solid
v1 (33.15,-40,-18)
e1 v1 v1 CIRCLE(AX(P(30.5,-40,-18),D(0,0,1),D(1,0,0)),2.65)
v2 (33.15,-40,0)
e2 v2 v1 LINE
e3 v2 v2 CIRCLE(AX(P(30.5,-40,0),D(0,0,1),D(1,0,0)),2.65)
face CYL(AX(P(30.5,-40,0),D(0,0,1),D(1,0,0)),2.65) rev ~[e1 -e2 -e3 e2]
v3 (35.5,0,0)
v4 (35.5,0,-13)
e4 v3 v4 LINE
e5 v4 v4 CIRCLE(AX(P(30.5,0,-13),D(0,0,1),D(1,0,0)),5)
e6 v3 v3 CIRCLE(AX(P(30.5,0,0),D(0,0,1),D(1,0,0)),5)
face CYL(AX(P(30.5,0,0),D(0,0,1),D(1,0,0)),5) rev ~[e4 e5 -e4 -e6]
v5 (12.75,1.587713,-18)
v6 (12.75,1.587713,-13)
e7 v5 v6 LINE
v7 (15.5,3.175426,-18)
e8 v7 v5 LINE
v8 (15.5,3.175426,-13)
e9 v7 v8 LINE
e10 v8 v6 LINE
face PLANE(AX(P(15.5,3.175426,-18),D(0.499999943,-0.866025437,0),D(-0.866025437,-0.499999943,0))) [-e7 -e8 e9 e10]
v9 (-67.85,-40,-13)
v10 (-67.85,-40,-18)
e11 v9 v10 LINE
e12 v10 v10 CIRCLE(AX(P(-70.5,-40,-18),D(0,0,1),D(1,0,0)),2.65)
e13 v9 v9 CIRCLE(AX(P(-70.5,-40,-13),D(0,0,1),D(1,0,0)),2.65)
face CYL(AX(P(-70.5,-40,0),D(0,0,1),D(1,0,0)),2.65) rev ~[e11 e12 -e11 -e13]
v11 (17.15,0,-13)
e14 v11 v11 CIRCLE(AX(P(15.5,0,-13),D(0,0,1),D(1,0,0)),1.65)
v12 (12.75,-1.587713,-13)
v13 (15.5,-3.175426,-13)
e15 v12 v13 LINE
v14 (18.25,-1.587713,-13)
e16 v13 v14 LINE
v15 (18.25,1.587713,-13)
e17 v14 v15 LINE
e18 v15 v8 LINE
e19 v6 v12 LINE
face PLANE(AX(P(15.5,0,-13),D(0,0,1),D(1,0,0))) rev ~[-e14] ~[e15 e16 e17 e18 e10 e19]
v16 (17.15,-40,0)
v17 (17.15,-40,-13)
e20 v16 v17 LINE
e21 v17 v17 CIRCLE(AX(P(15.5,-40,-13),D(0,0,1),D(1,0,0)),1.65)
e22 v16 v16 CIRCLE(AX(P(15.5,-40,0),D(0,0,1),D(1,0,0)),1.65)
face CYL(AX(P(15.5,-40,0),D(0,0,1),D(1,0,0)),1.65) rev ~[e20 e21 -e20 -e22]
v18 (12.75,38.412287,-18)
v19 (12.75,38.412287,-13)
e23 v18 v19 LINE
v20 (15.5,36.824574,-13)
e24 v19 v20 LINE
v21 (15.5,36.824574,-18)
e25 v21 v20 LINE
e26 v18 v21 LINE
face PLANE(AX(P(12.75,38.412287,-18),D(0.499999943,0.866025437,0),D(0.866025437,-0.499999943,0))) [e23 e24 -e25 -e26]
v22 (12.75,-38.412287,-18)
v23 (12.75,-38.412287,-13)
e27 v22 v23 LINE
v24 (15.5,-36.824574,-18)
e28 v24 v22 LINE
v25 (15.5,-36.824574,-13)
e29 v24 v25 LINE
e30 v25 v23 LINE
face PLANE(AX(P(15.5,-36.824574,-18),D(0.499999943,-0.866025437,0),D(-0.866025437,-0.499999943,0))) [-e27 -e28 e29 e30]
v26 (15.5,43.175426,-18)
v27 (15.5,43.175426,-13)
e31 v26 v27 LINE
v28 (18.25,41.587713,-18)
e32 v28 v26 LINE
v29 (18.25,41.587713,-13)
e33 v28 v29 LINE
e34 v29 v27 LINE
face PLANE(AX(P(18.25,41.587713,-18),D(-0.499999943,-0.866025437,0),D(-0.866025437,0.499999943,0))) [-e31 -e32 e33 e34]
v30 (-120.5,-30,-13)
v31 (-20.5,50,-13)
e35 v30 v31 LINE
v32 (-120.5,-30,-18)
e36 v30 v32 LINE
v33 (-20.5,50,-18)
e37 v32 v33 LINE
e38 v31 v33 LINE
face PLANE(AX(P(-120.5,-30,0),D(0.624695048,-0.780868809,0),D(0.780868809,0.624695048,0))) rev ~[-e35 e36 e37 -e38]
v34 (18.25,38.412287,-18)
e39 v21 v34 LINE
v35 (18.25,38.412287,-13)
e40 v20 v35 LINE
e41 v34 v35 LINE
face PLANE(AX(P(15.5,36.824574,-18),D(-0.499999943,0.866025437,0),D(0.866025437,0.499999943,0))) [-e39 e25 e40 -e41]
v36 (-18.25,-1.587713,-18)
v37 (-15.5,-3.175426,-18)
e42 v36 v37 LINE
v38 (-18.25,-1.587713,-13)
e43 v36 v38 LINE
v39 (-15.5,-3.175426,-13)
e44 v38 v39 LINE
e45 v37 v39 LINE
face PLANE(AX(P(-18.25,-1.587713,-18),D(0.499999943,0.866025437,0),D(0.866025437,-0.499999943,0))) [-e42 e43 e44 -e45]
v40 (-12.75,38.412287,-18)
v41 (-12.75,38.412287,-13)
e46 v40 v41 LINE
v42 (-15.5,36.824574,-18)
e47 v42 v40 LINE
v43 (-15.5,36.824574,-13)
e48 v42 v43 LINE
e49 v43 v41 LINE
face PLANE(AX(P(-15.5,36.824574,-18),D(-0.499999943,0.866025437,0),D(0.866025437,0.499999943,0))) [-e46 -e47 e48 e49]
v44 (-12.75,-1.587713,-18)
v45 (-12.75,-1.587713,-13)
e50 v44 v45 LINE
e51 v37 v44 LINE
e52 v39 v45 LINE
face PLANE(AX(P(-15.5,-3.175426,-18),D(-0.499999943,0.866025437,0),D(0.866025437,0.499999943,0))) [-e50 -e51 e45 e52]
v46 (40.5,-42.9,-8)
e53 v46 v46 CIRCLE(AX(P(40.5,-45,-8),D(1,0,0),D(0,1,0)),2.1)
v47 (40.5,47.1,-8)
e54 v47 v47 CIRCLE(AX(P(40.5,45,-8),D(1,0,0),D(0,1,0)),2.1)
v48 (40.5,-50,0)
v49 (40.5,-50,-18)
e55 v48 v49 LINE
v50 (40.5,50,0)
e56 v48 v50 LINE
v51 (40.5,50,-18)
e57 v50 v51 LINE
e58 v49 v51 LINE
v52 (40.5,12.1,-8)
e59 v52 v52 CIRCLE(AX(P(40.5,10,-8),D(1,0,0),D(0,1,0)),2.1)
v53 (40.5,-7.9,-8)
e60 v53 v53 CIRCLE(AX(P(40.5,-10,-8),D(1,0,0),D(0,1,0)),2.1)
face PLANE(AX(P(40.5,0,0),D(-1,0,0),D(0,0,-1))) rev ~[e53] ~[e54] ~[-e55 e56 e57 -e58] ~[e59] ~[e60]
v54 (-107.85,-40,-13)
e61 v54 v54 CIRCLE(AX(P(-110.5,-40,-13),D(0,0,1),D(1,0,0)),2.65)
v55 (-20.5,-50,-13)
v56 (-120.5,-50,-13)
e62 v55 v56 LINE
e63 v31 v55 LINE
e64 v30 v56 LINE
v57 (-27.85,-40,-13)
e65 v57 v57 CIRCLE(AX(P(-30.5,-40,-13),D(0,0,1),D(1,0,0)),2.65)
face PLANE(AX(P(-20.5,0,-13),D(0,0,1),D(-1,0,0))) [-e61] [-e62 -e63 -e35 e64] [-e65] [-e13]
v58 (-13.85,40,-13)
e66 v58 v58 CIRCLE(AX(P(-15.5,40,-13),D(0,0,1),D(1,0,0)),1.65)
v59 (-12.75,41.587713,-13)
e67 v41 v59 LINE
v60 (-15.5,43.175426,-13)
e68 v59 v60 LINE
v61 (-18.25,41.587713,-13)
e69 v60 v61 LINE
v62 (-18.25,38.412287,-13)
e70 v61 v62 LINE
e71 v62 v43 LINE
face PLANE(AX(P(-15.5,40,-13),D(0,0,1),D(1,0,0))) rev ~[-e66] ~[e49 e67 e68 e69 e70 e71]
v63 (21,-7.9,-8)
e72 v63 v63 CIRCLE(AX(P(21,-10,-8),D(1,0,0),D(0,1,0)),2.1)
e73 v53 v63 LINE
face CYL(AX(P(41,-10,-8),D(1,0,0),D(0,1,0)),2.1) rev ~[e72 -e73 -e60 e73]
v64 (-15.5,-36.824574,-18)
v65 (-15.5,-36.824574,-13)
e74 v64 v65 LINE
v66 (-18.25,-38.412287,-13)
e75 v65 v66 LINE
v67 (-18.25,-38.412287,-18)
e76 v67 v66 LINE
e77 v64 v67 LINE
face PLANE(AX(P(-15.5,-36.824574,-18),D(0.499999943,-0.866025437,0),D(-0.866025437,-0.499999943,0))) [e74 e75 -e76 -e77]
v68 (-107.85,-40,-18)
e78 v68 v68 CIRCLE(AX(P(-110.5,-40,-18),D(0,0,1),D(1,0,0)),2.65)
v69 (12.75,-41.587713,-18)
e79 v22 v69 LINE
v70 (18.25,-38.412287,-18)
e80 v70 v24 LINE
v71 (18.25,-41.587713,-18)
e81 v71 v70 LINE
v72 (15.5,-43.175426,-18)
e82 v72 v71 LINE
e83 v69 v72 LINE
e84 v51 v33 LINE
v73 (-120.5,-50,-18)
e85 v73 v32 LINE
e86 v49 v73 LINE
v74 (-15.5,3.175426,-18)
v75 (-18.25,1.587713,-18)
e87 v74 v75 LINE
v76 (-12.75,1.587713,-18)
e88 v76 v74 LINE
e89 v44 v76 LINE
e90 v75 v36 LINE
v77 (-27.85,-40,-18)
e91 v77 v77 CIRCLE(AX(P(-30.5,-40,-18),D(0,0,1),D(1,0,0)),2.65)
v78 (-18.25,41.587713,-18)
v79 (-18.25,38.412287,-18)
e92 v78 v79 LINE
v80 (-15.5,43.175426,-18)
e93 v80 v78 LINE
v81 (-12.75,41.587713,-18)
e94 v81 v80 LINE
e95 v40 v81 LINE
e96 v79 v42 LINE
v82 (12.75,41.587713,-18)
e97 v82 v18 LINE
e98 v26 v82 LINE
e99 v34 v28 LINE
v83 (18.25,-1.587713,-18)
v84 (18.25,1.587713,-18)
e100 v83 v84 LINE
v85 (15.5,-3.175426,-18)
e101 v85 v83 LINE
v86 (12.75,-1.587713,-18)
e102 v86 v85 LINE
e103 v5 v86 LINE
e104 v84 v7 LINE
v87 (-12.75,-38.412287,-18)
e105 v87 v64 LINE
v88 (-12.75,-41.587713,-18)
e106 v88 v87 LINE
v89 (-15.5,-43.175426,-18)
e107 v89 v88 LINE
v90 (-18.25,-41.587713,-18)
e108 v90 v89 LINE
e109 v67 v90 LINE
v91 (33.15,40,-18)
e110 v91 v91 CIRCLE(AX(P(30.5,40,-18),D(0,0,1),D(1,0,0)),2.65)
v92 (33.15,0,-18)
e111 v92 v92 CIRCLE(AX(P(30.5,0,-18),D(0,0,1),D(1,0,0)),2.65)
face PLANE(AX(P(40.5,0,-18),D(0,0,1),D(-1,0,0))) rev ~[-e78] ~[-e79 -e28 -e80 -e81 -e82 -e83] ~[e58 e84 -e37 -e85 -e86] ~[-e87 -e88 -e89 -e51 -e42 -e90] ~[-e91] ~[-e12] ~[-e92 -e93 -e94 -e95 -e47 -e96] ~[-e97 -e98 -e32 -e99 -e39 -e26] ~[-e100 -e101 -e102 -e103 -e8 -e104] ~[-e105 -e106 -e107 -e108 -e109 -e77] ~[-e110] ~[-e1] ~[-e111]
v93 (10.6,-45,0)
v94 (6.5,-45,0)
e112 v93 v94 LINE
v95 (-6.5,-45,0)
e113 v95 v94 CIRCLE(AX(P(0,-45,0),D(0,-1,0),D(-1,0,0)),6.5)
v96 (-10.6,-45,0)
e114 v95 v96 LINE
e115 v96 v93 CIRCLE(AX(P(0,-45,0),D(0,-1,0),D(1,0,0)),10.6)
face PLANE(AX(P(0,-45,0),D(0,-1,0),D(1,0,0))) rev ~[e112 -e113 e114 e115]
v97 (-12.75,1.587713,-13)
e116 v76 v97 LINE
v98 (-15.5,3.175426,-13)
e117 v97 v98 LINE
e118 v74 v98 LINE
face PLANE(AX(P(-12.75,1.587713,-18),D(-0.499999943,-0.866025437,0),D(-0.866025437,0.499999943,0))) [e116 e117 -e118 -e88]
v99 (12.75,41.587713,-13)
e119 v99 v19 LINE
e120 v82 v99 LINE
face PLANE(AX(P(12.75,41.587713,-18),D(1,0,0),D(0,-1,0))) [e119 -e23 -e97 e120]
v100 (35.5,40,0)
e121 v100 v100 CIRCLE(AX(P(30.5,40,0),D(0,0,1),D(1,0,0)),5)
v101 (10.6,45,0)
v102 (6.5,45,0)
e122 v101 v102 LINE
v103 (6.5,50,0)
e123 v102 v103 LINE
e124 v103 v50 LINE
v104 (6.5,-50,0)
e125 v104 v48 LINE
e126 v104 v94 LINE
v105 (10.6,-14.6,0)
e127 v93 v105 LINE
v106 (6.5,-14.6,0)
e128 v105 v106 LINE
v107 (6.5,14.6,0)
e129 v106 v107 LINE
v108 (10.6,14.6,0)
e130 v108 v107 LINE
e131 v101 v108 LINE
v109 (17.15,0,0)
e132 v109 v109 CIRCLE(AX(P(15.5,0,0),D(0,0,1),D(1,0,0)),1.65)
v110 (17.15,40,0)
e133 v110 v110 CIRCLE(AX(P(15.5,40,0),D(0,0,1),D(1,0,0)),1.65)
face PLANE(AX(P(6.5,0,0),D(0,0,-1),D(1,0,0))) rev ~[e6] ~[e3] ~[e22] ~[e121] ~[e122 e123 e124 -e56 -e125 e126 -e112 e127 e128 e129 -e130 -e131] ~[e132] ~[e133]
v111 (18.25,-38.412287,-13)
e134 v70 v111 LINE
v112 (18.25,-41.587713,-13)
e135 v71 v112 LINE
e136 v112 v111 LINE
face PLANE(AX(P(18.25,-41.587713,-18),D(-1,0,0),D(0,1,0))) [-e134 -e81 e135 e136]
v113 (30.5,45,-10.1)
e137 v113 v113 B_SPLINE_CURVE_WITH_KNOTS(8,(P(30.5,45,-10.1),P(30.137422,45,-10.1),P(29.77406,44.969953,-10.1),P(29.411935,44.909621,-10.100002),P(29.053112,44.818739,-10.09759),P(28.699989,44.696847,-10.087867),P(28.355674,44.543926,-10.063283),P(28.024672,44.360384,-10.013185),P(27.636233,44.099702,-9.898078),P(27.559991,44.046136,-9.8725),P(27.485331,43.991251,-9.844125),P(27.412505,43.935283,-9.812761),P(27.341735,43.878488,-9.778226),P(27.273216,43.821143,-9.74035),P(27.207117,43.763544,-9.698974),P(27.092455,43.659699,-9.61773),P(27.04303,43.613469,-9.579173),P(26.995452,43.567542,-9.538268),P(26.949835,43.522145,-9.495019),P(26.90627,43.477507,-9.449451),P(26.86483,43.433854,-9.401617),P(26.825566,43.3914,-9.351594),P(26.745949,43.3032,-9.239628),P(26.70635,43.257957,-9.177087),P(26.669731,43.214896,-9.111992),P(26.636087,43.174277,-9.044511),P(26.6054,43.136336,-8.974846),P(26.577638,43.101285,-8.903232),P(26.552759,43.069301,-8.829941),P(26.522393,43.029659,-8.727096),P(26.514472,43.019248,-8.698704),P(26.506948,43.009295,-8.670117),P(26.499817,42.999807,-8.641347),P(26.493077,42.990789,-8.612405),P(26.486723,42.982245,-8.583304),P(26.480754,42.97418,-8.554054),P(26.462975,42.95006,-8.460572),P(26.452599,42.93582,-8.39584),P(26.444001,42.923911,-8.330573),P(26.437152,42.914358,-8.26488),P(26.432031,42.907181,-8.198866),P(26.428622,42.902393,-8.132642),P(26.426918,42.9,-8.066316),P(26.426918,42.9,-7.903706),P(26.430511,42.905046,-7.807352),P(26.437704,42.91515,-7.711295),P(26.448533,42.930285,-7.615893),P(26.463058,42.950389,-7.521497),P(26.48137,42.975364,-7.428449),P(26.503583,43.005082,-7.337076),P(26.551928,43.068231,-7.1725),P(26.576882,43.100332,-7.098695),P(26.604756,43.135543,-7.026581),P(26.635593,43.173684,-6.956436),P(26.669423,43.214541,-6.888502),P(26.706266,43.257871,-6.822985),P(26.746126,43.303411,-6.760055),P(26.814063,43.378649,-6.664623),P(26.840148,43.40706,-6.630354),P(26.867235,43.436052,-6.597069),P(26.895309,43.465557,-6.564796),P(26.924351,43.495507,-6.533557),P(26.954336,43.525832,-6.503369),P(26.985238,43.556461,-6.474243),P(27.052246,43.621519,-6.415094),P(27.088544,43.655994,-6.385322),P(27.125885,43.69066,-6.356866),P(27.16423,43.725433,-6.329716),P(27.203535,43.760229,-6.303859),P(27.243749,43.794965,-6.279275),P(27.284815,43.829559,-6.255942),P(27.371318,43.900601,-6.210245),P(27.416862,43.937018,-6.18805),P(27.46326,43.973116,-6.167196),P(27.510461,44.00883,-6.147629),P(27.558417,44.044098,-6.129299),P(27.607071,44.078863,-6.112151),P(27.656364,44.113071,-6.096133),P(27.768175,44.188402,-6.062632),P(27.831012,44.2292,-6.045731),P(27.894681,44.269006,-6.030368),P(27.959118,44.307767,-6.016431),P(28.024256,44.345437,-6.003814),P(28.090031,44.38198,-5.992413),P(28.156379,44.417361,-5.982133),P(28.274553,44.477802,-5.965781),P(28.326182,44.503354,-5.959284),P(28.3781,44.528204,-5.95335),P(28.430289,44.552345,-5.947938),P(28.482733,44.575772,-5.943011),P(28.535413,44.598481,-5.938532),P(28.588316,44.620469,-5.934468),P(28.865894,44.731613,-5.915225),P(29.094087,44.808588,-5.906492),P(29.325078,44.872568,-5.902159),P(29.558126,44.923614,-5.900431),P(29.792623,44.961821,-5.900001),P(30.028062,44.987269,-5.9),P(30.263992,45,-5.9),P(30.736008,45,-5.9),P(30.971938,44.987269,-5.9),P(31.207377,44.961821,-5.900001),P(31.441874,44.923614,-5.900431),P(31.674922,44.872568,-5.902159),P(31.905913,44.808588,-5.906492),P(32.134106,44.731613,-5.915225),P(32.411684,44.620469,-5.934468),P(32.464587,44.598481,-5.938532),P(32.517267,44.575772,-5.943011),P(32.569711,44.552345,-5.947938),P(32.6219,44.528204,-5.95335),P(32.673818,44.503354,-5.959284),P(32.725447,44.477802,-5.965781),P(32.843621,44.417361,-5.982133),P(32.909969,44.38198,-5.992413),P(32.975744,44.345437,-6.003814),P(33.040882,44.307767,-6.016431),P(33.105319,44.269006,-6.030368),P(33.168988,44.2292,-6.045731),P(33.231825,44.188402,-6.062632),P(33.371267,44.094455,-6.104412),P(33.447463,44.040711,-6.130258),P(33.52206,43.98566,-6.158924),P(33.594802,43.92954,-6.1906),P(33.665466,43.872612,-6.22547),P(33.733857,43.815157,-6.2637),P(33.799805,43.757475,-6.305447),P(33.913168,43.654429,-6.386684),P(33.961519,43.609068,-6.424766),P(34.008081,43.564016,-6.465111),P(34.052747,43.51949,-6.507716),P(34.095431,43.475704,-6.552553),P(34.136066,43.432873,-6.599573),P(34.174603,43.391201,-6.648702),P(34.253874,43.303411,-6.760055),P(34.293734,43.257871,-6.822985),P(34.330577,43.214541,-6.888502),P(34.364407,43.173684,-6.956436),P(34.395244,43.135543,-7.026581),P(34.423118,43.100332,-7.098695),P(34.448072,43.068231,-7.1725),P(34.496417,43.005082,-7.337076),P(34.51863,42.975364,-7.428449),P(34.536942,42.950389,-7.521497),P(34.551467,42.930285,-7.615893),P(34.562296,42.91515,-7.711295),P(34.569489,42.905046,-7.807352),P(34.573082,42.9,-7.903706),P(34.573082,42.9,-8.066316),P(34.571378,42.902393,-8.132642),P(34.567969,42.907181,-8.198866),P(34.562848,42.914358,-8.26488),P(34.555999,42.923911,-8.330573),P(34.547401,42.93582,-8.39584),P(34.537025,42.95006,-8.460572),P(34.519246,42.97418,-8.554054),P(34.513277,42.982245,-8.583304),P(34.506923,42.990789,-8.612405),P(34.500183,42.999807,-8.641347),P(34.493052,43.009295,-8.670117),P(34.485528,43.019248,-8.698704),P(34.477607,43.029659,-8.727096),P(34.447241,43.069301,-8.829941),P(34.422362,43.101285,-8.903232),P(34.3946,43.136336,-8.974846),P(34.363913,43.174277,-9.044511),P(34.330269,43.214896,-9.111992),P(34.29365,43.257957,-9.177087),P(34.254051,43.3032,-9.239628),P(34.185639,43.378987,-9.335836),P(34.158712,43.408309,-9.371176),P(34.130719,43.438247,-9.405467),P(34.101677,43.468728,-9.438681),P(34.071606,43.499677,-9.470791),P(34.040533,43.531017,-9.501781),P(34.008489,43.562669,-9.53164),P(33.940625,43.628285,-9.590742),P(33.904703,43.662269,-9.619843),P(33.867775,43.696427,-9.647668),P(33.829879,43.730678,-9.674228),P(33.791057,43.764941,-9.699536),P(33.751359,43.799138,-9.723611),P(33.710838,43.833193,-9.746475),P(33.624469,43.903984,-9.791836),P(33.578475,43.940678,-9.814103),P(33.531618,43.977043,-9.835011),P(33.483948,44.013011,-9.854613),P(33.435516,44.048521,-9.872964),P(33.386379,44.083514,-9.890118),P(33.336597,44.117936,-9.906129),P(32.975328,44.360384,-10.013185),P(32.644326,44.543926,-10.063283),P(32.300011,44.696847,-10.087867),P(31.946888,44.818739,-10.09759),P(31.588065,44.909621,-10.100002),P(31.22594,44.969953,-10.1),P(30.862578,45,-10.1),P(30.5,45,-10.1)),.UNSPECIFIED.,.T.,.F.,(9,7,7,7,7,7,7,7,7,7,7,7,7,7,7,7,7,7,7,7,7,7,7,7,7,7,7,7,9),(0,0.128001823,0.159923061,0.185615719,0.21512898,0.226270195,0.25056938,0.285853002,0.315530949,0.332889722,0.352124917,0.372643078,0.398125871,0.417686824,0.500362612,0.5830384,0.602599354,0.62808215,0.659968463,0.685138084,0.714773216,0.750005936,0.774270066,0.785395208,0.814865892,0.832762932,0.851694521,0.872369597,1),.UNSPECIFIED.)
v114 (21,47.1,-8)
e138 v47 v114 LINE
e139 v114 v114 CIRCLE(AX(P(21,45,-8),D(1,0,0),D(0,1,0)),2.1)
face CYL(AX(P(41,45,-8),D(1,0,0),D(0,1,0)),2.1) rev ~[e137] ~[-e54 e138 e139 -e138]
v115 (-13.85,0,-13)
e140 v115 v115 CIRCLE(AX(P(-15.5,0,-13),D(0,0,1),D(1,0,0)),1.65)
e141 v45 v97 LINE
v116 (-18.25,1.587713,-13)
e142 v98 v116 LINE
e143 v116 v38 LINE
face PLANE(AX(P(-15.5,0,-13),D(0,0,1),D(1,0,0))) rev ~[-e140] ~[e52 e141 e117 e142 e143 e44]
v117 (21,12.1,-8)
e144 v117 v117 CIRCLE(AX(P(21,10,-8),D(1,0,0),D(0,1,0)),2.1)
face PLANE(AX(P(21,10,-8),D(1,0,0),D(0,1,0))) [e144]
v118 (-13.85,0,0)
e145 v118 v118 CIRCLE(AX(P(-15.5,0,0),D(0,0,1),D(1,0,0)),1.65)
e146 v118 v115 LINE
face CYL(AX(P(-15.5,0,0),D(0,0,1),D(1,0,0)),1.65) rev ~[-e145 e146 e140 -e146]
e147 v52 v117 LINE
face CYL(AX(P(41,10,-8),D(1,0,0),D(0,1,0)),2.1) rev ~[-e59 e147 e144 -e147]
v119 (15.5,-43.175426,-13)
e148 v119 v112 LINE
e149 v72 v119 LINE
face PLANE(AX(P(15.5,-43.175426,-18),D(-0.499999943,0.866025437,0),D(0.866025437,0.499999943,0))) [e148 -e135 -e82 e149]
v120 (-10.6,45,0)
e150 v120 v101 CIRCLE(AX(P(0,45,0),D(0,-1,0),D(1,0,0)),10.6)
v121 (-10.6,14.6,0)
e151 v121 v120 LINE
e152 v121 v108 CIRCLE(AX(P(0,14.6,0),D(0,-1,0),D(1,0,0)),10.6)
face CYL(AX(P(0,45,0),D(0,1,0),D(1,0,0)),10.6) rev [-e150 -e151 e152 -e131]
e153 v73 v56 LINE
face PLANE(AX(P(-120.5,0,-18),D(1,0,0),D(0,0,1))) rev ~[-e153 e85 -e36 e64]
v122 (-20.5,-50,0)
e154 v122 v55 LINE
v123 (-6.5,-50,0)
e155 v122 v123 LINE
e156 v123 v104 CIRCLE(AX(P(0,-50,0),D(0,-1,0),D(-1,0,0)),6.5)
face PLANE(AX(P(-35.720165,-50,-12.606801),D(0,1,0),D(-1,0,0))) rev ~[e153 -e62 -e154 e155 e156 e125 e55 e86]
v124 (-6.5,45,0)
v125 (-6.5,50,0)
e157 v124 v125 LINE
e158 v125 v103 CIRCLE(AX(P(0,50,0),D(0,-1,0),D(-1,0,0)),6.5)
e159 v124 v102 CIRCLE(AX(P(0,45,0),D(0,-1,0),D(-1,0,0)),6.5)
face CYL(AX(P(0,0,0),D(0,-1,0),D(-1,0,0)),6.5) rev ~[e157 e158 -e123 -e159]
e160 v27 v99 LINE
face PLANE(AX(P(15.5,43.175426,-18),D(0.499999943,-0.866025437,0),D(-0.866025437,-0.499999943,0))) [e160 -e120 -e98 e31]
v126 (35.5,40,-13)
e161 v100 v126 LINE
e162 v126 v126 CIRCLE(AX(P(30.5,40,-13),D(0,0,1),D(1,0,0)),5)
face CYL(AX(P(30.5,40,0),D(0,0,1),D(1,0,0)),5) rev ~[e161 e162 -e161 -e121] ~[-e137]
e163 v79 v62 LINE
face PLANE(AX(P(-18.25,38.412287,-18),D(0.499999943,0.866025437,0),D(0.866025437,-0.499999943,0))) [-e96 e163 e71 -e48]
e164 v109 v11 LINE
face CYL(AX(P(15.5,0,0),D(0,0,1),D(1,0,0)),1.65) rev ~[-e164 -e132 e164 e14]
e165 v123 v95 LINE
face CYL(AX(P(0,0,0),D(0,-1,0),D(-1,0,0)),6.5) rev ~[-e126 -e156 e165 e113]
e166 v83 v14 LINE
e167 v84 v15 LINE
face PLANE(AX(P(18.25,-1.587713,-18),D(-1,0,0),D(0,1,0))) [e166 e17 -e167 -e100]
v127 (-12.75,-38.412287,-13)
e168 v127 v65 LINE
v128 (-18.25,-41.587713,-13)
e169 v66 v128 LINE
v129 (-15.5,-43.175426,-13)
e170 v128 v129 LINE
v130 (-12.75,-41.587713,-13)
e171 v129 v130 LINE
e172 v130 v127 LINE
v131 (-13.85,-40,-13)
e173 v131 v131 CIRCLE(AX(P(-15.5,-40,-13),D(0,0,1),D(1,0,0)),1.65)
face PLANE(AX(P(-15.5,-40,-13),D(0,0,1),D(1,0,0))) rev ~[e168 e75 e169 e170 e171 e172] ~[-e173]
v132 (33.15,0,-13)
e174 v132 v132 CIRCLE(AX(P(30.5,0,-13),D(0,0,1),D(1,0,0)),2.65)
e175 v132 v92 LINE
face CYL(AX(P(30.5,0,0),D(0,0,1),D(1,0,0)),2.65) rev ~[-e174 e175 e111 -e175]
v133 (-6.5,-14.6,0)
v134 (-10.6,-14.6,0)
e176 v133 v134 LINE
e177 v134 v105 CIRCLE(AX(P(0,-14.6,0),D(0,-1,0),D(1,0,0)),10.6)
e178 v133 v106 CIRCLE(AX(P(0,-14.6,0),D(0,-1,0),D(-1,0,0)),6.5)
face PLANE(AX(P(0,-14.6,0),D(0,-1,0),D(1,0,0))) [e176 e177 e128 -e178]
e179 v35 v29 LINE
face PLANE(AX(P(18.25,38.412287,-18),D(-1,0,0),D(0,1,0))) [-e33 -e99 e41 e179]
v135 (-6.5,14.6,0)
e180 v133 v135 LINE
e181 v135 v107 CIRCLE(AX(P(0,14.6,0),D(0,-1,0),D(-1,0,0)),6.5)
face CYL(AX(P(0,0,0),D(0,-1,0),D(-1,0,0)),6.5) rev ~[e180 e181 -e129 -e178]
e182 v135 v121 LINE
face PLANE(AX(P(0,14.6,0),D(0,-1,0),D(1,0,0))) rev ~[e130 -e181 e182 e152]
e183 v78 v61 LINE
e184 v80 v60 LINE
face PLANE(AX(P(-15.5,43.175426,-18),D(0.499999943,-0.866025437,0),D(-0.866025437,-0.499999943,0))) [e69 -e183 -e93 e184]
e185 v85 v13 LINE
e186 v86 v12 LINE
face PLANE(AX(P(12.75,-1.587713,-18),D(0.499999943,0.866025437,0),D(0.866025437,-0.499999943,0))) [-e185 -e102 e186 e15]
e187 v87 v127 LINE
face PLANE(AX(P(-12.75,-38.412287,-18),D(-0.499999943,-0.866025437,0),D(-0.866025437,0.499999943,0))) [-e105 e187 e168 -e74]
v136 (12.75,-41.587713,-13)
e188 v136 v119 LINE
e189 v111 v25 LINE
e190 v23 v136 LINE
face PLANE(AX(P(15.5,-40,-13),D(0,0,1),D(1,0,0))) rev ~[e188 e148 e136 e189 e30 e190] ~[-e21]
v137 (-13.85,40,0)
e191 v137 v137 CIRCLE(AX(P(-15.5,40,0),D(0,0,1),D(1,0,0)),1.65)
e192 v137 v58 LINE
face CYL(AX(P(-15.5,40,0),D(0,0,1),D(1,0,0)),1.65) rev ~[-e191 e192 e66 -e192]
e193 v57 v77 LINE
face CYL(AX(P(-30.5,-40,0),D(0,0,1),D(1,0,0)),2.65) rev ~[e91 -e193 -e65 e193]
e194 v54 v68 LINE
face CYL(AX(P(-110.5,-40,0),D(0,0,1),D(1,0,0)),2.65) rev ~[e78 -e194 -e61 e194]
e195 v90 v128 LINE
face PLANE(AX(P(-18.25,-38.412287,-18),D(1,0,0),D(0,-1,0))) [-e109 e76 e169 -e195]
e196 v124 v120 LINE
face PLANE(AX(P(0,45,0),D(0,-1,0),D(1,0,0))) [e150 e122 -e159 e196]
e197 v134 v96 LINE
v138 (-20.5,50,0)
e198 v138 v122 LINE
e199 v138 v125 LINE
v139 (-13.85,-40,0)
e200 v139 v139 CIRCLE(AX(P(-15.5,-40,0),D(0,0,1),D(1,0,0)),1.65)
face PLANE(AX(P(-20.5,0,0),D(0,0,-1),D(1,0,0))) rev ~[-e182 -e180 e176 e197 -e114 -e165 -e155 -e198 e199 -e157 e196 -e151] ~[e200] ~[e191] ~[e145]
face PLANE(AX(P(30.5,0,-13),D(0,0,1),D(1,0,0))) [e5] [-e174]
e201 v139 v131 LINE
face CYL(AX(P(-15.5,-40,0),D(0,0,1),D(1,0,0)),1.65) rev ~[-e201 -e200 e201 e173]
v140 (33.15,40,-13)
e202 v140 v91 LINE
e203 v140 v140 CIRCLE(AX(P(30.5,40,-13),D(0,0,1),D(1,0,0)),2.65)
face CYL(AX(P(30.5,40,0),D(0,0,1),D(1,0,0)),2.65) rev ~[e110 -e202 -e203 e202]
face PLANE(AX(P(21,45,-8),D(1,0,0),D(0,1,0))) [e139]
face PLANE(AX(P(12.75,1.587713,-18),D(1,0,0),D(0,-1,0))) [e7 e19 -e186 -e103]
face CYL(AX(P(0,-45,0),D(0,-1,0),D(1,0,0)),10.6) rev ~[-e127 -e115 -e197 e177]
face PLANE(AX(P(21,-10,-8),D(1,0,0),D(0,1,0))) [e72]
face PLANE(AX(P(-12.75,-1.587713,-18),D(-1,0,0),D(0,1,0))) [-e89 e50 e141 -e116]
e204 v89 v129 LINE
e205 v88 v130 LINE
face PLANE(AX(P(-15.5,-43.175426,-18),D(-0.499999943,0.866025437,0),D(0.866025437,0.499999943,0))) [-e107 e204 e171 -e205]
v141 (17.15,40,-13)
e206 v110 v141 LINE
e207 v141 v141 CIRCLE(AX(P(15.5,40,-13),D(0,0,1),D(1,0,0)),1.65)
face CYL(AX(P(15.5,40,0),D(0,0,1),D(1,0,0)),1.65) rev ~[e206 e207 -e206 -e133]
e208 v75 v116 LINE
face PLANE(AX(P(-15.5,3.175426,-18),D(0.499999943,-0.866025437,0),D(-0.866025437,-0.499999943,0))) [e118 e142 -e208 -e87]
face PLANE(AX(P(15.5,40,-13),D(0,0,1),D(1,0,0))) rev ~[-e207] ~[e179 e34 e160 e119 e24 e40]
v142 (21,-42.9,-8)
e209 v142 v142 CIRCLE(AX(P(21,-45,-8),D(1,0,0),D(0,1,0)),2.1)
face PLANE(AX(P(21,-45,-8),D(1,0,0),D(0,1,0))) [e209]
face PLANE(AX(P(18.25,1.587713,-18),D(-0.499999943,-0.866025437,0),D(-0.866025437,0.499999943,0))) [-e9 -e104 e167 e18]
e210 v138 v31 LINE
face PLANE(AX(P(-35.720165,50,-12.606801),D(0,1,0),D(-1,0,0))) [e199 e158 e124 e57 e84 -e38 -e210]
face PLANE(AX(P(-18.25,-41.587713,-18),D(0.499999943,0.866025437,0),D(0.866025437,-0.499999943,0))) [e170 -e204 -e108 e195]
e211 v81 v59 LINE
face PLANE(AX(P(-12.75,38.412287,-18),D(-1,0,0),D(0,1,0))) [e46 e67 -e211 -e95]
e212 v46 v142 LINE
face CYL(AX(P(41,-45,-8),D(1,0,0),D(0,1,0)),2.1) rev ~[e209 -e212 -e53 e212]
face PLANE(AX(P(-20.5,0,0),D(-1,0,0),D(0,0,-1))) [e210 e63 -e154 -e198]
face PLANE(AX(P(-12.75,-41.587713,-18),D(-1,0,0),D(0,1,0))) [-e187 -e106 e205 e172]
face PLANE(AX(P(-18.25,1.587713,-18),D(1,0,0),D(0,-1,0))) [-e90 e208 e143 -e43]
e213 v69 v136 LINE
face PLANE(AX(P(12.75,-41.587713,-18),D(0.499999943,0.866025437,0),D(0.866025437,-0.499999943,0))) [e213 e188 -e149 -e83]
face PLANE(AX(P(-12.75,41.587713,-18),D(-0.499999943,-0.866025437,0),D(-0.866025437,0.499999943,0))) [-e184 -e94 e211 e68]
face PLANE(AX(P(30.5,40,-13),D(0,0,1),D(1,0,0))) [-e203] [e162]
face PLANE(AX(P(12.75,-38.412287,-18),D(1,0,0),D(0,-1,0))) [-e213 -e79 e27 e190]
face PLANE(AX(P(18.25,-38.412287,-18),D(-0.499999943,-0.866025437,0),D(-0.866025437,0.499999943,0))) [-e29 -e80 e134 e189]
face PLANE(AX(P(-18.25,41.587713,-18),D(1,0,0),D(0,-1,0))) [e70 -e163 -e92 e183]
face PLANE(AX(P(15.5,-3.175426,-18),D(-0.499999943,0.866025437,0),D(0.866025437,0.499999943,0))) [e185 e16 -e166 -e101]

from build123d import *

# Parameters (mm, degrees)
PAD_DEPTH       = 50
POCKET_DEPTH    = 18.001
SKETCH003_R     = 10.6
POCKET001_DEPTH = 30.4
SKETCH004_R     = 10.6
POCKET002_DEPTH = 30.4
SKETCH005_R     = 1.65
SKETCH005_R_2   = 2.65
POCKET007_DEPTH = 18.001
POCKET008_DEPTH = 5
SKETCH006_R     = 2.65
POCKET009_DEPTH = 18.001
SKETCH007_R     = 5
POCKET010_DEPTH = 13
SKETCH008_R     = 2.1
POCKET011_DEPTH = 20


with BuildPart() as part:
    # Sketch001 → Pad (new body, symmetric)
    with BuildSketch(Plane.XZ):
        with BuildLine():
            Line((-20.5, 0), (-6.5, 0))
            ThreePointArc((-6.5, 0), (0, -6.5), (6.5, 0))
            Line((6.5, 0), (20.5, 0))
            Line((20.5, 0), (40.5, 0))
            Line((40.5, 0), (40.5, -18))
            Line((40.5, -18), (20.5, -18))
            Line((20.5, -18), (-120.5, -18))
            Line((-120.5, -18), (-120.5, -13))
            Line((-20.5, -13), (-120.5, -13))
            Line((-20.5, 0), (-20.5, -13))
        make_face()
    extrude(amount=PAD_DEPTH, both=True)

    # Sketch002 → Pocket (cut, through all)
    with BuildSketch(Plane.XY):
        Polygon((-20.5, 50), (-120.5, 50), (-120.5, -30), align=None)
    extrude(amount=-POCKET_DEPTH, mode=Mode.SUBTRACT)

    # Sketch003 (on DatumPlane) → Pocket001 (cut)
    with BuildSketch(Plane.XZ.offset(45)):
        Circle(SKETCH003_R)
    extrude(amount=-POCKET001_DEPTH, mode=Mode.SUBTRACT)

    # Sketch004 (on DatumPlane) → Pocket002 (cut)
    with BuildSketch(Plane.XZ.offset(-45)):
        Circle(SKETCH004_R)
    extrude(amount=POCKET002_DEPTH, mode=Mode.SUBTRACT)

    # Sketch005 → Pocket007 (cut, through all)
    with BuildSketch(Plane.XY):
        with Locations((-15.5, -40)):
            Circle(SKETCH005_R)
        with Locations((15.5, -40)):
            Circle(SKETCH005_R)
        with Locations((15.5, 0)):
            Circle(SKETCH005_R)
        with Locations((15.5, 40)):
            Circle(SKETCH005_R)
        with Locations((-15.5, 40)):
            Circle(SKETCH005_R)
        with Locations((-15.5, 0)):
            Circle(SKETCH005_R)
        with Locations((-110.5, -40)):
            Circle(SKETCH005_R_2)
        with Locations((-70.5, -40)):
            Circle(SKETCH005_R_2)
        with Locations((-30.5, -40)):
            Circle(SKETCH005_R_2)
    extrude(amount=-POCKET007_DEPTH, mode=Mode.SUBTRACT)

    # Sketch (on DatumPlane) → Pocket008 (cut)
    with BuildSketch(Plane.XY.offset(-18)):
        Polygon((-12.75, 38.412287), (-12.75, 41.587713), (-15.5, 43.175426), (-18.25, 41.587713), (-18.25, 38.412287), (-15.5, 36.824574), align=None)
        Polygon((18.25, 38.412287), (18.25, 41.587713), (15.5, 43.175426), (12.75, 41.587713), (12.75, 38.412287), (15.5, 36.824574), align=None)
        Polygon((-12.75, -1.587713), (-12.75, 1.587713), (-15.5, 3.175426), (-18.25, 1.587713), (-18.25, -1.587713), (-15.5, -3.175426), align=None)
        Polygon((18.25, -1.587713), (18.25, 1.587713), (15.5, 3.175426), (12.75, 1.587713), (12.75, -1.587713), (15.5, -3.175426), align=None)
        Polygon((-12.75, -41.587713), (-12.75, -38.412287), (-15.5, -36.824574), (-18.25, -38.412287), (-18.25, -41.587713), (-15.5, -43.175426), align=None)
        Polygon((18.25, -41.587713), (18.25, -38.412287), (15.5, -36.824574), (12.75, -38.412287), (12.75, -41.587713), (15.5, -43.175426), align=None)
    extrude(amount=POCKET008_DEPTH, mode=Mode.SUBTRACT)

    # Sketch006 → Pocket009 (cut, through all)
    with BuildSketch(Plane.XY):
        with Locations((30.5, 40)):
            Circle(SKETCH006_R)
        with Locations((30.5, 0)):
            Circle(SKETCH006_R)
        with Locations((30.5, -40)):
            Circle(SKETCH006_R)
    extrude(amount=-POCKET009_DEPTH, mode=Mode.SUBTRACT)

    # Sketch007 → Pocket010 (cut)
    with BuildSketch(Plane.XY):
        with Locations((30.5, 40)):
            Circle(SKETCH007_R)
        with Locations((30.5, 0)):
            Circle(SKETCH007_R)
    extrude(amount=-POCKET010_DEPTH, mode=Mode.SUBTRACT)

    # Sketch008 (on DatumPlane) → Pocket011 (cut)
    with BuildSketch(Plane.YZ.offset(41)):
        with Locations((-45, -8)):
            Circle(SKETCH008_R)
        with Locations((-10, -8)):
            Circle(SKETCH008_R)
        with Locations((10, -8)):
            Circle(SKETCH008_R)
        with Locations((45, -8)):
            Circle(SKETCH008_R)
    extrude(amount=-POCKET011_DEPTH, mode=Mode.SUBTRACT)


solid = part.part
